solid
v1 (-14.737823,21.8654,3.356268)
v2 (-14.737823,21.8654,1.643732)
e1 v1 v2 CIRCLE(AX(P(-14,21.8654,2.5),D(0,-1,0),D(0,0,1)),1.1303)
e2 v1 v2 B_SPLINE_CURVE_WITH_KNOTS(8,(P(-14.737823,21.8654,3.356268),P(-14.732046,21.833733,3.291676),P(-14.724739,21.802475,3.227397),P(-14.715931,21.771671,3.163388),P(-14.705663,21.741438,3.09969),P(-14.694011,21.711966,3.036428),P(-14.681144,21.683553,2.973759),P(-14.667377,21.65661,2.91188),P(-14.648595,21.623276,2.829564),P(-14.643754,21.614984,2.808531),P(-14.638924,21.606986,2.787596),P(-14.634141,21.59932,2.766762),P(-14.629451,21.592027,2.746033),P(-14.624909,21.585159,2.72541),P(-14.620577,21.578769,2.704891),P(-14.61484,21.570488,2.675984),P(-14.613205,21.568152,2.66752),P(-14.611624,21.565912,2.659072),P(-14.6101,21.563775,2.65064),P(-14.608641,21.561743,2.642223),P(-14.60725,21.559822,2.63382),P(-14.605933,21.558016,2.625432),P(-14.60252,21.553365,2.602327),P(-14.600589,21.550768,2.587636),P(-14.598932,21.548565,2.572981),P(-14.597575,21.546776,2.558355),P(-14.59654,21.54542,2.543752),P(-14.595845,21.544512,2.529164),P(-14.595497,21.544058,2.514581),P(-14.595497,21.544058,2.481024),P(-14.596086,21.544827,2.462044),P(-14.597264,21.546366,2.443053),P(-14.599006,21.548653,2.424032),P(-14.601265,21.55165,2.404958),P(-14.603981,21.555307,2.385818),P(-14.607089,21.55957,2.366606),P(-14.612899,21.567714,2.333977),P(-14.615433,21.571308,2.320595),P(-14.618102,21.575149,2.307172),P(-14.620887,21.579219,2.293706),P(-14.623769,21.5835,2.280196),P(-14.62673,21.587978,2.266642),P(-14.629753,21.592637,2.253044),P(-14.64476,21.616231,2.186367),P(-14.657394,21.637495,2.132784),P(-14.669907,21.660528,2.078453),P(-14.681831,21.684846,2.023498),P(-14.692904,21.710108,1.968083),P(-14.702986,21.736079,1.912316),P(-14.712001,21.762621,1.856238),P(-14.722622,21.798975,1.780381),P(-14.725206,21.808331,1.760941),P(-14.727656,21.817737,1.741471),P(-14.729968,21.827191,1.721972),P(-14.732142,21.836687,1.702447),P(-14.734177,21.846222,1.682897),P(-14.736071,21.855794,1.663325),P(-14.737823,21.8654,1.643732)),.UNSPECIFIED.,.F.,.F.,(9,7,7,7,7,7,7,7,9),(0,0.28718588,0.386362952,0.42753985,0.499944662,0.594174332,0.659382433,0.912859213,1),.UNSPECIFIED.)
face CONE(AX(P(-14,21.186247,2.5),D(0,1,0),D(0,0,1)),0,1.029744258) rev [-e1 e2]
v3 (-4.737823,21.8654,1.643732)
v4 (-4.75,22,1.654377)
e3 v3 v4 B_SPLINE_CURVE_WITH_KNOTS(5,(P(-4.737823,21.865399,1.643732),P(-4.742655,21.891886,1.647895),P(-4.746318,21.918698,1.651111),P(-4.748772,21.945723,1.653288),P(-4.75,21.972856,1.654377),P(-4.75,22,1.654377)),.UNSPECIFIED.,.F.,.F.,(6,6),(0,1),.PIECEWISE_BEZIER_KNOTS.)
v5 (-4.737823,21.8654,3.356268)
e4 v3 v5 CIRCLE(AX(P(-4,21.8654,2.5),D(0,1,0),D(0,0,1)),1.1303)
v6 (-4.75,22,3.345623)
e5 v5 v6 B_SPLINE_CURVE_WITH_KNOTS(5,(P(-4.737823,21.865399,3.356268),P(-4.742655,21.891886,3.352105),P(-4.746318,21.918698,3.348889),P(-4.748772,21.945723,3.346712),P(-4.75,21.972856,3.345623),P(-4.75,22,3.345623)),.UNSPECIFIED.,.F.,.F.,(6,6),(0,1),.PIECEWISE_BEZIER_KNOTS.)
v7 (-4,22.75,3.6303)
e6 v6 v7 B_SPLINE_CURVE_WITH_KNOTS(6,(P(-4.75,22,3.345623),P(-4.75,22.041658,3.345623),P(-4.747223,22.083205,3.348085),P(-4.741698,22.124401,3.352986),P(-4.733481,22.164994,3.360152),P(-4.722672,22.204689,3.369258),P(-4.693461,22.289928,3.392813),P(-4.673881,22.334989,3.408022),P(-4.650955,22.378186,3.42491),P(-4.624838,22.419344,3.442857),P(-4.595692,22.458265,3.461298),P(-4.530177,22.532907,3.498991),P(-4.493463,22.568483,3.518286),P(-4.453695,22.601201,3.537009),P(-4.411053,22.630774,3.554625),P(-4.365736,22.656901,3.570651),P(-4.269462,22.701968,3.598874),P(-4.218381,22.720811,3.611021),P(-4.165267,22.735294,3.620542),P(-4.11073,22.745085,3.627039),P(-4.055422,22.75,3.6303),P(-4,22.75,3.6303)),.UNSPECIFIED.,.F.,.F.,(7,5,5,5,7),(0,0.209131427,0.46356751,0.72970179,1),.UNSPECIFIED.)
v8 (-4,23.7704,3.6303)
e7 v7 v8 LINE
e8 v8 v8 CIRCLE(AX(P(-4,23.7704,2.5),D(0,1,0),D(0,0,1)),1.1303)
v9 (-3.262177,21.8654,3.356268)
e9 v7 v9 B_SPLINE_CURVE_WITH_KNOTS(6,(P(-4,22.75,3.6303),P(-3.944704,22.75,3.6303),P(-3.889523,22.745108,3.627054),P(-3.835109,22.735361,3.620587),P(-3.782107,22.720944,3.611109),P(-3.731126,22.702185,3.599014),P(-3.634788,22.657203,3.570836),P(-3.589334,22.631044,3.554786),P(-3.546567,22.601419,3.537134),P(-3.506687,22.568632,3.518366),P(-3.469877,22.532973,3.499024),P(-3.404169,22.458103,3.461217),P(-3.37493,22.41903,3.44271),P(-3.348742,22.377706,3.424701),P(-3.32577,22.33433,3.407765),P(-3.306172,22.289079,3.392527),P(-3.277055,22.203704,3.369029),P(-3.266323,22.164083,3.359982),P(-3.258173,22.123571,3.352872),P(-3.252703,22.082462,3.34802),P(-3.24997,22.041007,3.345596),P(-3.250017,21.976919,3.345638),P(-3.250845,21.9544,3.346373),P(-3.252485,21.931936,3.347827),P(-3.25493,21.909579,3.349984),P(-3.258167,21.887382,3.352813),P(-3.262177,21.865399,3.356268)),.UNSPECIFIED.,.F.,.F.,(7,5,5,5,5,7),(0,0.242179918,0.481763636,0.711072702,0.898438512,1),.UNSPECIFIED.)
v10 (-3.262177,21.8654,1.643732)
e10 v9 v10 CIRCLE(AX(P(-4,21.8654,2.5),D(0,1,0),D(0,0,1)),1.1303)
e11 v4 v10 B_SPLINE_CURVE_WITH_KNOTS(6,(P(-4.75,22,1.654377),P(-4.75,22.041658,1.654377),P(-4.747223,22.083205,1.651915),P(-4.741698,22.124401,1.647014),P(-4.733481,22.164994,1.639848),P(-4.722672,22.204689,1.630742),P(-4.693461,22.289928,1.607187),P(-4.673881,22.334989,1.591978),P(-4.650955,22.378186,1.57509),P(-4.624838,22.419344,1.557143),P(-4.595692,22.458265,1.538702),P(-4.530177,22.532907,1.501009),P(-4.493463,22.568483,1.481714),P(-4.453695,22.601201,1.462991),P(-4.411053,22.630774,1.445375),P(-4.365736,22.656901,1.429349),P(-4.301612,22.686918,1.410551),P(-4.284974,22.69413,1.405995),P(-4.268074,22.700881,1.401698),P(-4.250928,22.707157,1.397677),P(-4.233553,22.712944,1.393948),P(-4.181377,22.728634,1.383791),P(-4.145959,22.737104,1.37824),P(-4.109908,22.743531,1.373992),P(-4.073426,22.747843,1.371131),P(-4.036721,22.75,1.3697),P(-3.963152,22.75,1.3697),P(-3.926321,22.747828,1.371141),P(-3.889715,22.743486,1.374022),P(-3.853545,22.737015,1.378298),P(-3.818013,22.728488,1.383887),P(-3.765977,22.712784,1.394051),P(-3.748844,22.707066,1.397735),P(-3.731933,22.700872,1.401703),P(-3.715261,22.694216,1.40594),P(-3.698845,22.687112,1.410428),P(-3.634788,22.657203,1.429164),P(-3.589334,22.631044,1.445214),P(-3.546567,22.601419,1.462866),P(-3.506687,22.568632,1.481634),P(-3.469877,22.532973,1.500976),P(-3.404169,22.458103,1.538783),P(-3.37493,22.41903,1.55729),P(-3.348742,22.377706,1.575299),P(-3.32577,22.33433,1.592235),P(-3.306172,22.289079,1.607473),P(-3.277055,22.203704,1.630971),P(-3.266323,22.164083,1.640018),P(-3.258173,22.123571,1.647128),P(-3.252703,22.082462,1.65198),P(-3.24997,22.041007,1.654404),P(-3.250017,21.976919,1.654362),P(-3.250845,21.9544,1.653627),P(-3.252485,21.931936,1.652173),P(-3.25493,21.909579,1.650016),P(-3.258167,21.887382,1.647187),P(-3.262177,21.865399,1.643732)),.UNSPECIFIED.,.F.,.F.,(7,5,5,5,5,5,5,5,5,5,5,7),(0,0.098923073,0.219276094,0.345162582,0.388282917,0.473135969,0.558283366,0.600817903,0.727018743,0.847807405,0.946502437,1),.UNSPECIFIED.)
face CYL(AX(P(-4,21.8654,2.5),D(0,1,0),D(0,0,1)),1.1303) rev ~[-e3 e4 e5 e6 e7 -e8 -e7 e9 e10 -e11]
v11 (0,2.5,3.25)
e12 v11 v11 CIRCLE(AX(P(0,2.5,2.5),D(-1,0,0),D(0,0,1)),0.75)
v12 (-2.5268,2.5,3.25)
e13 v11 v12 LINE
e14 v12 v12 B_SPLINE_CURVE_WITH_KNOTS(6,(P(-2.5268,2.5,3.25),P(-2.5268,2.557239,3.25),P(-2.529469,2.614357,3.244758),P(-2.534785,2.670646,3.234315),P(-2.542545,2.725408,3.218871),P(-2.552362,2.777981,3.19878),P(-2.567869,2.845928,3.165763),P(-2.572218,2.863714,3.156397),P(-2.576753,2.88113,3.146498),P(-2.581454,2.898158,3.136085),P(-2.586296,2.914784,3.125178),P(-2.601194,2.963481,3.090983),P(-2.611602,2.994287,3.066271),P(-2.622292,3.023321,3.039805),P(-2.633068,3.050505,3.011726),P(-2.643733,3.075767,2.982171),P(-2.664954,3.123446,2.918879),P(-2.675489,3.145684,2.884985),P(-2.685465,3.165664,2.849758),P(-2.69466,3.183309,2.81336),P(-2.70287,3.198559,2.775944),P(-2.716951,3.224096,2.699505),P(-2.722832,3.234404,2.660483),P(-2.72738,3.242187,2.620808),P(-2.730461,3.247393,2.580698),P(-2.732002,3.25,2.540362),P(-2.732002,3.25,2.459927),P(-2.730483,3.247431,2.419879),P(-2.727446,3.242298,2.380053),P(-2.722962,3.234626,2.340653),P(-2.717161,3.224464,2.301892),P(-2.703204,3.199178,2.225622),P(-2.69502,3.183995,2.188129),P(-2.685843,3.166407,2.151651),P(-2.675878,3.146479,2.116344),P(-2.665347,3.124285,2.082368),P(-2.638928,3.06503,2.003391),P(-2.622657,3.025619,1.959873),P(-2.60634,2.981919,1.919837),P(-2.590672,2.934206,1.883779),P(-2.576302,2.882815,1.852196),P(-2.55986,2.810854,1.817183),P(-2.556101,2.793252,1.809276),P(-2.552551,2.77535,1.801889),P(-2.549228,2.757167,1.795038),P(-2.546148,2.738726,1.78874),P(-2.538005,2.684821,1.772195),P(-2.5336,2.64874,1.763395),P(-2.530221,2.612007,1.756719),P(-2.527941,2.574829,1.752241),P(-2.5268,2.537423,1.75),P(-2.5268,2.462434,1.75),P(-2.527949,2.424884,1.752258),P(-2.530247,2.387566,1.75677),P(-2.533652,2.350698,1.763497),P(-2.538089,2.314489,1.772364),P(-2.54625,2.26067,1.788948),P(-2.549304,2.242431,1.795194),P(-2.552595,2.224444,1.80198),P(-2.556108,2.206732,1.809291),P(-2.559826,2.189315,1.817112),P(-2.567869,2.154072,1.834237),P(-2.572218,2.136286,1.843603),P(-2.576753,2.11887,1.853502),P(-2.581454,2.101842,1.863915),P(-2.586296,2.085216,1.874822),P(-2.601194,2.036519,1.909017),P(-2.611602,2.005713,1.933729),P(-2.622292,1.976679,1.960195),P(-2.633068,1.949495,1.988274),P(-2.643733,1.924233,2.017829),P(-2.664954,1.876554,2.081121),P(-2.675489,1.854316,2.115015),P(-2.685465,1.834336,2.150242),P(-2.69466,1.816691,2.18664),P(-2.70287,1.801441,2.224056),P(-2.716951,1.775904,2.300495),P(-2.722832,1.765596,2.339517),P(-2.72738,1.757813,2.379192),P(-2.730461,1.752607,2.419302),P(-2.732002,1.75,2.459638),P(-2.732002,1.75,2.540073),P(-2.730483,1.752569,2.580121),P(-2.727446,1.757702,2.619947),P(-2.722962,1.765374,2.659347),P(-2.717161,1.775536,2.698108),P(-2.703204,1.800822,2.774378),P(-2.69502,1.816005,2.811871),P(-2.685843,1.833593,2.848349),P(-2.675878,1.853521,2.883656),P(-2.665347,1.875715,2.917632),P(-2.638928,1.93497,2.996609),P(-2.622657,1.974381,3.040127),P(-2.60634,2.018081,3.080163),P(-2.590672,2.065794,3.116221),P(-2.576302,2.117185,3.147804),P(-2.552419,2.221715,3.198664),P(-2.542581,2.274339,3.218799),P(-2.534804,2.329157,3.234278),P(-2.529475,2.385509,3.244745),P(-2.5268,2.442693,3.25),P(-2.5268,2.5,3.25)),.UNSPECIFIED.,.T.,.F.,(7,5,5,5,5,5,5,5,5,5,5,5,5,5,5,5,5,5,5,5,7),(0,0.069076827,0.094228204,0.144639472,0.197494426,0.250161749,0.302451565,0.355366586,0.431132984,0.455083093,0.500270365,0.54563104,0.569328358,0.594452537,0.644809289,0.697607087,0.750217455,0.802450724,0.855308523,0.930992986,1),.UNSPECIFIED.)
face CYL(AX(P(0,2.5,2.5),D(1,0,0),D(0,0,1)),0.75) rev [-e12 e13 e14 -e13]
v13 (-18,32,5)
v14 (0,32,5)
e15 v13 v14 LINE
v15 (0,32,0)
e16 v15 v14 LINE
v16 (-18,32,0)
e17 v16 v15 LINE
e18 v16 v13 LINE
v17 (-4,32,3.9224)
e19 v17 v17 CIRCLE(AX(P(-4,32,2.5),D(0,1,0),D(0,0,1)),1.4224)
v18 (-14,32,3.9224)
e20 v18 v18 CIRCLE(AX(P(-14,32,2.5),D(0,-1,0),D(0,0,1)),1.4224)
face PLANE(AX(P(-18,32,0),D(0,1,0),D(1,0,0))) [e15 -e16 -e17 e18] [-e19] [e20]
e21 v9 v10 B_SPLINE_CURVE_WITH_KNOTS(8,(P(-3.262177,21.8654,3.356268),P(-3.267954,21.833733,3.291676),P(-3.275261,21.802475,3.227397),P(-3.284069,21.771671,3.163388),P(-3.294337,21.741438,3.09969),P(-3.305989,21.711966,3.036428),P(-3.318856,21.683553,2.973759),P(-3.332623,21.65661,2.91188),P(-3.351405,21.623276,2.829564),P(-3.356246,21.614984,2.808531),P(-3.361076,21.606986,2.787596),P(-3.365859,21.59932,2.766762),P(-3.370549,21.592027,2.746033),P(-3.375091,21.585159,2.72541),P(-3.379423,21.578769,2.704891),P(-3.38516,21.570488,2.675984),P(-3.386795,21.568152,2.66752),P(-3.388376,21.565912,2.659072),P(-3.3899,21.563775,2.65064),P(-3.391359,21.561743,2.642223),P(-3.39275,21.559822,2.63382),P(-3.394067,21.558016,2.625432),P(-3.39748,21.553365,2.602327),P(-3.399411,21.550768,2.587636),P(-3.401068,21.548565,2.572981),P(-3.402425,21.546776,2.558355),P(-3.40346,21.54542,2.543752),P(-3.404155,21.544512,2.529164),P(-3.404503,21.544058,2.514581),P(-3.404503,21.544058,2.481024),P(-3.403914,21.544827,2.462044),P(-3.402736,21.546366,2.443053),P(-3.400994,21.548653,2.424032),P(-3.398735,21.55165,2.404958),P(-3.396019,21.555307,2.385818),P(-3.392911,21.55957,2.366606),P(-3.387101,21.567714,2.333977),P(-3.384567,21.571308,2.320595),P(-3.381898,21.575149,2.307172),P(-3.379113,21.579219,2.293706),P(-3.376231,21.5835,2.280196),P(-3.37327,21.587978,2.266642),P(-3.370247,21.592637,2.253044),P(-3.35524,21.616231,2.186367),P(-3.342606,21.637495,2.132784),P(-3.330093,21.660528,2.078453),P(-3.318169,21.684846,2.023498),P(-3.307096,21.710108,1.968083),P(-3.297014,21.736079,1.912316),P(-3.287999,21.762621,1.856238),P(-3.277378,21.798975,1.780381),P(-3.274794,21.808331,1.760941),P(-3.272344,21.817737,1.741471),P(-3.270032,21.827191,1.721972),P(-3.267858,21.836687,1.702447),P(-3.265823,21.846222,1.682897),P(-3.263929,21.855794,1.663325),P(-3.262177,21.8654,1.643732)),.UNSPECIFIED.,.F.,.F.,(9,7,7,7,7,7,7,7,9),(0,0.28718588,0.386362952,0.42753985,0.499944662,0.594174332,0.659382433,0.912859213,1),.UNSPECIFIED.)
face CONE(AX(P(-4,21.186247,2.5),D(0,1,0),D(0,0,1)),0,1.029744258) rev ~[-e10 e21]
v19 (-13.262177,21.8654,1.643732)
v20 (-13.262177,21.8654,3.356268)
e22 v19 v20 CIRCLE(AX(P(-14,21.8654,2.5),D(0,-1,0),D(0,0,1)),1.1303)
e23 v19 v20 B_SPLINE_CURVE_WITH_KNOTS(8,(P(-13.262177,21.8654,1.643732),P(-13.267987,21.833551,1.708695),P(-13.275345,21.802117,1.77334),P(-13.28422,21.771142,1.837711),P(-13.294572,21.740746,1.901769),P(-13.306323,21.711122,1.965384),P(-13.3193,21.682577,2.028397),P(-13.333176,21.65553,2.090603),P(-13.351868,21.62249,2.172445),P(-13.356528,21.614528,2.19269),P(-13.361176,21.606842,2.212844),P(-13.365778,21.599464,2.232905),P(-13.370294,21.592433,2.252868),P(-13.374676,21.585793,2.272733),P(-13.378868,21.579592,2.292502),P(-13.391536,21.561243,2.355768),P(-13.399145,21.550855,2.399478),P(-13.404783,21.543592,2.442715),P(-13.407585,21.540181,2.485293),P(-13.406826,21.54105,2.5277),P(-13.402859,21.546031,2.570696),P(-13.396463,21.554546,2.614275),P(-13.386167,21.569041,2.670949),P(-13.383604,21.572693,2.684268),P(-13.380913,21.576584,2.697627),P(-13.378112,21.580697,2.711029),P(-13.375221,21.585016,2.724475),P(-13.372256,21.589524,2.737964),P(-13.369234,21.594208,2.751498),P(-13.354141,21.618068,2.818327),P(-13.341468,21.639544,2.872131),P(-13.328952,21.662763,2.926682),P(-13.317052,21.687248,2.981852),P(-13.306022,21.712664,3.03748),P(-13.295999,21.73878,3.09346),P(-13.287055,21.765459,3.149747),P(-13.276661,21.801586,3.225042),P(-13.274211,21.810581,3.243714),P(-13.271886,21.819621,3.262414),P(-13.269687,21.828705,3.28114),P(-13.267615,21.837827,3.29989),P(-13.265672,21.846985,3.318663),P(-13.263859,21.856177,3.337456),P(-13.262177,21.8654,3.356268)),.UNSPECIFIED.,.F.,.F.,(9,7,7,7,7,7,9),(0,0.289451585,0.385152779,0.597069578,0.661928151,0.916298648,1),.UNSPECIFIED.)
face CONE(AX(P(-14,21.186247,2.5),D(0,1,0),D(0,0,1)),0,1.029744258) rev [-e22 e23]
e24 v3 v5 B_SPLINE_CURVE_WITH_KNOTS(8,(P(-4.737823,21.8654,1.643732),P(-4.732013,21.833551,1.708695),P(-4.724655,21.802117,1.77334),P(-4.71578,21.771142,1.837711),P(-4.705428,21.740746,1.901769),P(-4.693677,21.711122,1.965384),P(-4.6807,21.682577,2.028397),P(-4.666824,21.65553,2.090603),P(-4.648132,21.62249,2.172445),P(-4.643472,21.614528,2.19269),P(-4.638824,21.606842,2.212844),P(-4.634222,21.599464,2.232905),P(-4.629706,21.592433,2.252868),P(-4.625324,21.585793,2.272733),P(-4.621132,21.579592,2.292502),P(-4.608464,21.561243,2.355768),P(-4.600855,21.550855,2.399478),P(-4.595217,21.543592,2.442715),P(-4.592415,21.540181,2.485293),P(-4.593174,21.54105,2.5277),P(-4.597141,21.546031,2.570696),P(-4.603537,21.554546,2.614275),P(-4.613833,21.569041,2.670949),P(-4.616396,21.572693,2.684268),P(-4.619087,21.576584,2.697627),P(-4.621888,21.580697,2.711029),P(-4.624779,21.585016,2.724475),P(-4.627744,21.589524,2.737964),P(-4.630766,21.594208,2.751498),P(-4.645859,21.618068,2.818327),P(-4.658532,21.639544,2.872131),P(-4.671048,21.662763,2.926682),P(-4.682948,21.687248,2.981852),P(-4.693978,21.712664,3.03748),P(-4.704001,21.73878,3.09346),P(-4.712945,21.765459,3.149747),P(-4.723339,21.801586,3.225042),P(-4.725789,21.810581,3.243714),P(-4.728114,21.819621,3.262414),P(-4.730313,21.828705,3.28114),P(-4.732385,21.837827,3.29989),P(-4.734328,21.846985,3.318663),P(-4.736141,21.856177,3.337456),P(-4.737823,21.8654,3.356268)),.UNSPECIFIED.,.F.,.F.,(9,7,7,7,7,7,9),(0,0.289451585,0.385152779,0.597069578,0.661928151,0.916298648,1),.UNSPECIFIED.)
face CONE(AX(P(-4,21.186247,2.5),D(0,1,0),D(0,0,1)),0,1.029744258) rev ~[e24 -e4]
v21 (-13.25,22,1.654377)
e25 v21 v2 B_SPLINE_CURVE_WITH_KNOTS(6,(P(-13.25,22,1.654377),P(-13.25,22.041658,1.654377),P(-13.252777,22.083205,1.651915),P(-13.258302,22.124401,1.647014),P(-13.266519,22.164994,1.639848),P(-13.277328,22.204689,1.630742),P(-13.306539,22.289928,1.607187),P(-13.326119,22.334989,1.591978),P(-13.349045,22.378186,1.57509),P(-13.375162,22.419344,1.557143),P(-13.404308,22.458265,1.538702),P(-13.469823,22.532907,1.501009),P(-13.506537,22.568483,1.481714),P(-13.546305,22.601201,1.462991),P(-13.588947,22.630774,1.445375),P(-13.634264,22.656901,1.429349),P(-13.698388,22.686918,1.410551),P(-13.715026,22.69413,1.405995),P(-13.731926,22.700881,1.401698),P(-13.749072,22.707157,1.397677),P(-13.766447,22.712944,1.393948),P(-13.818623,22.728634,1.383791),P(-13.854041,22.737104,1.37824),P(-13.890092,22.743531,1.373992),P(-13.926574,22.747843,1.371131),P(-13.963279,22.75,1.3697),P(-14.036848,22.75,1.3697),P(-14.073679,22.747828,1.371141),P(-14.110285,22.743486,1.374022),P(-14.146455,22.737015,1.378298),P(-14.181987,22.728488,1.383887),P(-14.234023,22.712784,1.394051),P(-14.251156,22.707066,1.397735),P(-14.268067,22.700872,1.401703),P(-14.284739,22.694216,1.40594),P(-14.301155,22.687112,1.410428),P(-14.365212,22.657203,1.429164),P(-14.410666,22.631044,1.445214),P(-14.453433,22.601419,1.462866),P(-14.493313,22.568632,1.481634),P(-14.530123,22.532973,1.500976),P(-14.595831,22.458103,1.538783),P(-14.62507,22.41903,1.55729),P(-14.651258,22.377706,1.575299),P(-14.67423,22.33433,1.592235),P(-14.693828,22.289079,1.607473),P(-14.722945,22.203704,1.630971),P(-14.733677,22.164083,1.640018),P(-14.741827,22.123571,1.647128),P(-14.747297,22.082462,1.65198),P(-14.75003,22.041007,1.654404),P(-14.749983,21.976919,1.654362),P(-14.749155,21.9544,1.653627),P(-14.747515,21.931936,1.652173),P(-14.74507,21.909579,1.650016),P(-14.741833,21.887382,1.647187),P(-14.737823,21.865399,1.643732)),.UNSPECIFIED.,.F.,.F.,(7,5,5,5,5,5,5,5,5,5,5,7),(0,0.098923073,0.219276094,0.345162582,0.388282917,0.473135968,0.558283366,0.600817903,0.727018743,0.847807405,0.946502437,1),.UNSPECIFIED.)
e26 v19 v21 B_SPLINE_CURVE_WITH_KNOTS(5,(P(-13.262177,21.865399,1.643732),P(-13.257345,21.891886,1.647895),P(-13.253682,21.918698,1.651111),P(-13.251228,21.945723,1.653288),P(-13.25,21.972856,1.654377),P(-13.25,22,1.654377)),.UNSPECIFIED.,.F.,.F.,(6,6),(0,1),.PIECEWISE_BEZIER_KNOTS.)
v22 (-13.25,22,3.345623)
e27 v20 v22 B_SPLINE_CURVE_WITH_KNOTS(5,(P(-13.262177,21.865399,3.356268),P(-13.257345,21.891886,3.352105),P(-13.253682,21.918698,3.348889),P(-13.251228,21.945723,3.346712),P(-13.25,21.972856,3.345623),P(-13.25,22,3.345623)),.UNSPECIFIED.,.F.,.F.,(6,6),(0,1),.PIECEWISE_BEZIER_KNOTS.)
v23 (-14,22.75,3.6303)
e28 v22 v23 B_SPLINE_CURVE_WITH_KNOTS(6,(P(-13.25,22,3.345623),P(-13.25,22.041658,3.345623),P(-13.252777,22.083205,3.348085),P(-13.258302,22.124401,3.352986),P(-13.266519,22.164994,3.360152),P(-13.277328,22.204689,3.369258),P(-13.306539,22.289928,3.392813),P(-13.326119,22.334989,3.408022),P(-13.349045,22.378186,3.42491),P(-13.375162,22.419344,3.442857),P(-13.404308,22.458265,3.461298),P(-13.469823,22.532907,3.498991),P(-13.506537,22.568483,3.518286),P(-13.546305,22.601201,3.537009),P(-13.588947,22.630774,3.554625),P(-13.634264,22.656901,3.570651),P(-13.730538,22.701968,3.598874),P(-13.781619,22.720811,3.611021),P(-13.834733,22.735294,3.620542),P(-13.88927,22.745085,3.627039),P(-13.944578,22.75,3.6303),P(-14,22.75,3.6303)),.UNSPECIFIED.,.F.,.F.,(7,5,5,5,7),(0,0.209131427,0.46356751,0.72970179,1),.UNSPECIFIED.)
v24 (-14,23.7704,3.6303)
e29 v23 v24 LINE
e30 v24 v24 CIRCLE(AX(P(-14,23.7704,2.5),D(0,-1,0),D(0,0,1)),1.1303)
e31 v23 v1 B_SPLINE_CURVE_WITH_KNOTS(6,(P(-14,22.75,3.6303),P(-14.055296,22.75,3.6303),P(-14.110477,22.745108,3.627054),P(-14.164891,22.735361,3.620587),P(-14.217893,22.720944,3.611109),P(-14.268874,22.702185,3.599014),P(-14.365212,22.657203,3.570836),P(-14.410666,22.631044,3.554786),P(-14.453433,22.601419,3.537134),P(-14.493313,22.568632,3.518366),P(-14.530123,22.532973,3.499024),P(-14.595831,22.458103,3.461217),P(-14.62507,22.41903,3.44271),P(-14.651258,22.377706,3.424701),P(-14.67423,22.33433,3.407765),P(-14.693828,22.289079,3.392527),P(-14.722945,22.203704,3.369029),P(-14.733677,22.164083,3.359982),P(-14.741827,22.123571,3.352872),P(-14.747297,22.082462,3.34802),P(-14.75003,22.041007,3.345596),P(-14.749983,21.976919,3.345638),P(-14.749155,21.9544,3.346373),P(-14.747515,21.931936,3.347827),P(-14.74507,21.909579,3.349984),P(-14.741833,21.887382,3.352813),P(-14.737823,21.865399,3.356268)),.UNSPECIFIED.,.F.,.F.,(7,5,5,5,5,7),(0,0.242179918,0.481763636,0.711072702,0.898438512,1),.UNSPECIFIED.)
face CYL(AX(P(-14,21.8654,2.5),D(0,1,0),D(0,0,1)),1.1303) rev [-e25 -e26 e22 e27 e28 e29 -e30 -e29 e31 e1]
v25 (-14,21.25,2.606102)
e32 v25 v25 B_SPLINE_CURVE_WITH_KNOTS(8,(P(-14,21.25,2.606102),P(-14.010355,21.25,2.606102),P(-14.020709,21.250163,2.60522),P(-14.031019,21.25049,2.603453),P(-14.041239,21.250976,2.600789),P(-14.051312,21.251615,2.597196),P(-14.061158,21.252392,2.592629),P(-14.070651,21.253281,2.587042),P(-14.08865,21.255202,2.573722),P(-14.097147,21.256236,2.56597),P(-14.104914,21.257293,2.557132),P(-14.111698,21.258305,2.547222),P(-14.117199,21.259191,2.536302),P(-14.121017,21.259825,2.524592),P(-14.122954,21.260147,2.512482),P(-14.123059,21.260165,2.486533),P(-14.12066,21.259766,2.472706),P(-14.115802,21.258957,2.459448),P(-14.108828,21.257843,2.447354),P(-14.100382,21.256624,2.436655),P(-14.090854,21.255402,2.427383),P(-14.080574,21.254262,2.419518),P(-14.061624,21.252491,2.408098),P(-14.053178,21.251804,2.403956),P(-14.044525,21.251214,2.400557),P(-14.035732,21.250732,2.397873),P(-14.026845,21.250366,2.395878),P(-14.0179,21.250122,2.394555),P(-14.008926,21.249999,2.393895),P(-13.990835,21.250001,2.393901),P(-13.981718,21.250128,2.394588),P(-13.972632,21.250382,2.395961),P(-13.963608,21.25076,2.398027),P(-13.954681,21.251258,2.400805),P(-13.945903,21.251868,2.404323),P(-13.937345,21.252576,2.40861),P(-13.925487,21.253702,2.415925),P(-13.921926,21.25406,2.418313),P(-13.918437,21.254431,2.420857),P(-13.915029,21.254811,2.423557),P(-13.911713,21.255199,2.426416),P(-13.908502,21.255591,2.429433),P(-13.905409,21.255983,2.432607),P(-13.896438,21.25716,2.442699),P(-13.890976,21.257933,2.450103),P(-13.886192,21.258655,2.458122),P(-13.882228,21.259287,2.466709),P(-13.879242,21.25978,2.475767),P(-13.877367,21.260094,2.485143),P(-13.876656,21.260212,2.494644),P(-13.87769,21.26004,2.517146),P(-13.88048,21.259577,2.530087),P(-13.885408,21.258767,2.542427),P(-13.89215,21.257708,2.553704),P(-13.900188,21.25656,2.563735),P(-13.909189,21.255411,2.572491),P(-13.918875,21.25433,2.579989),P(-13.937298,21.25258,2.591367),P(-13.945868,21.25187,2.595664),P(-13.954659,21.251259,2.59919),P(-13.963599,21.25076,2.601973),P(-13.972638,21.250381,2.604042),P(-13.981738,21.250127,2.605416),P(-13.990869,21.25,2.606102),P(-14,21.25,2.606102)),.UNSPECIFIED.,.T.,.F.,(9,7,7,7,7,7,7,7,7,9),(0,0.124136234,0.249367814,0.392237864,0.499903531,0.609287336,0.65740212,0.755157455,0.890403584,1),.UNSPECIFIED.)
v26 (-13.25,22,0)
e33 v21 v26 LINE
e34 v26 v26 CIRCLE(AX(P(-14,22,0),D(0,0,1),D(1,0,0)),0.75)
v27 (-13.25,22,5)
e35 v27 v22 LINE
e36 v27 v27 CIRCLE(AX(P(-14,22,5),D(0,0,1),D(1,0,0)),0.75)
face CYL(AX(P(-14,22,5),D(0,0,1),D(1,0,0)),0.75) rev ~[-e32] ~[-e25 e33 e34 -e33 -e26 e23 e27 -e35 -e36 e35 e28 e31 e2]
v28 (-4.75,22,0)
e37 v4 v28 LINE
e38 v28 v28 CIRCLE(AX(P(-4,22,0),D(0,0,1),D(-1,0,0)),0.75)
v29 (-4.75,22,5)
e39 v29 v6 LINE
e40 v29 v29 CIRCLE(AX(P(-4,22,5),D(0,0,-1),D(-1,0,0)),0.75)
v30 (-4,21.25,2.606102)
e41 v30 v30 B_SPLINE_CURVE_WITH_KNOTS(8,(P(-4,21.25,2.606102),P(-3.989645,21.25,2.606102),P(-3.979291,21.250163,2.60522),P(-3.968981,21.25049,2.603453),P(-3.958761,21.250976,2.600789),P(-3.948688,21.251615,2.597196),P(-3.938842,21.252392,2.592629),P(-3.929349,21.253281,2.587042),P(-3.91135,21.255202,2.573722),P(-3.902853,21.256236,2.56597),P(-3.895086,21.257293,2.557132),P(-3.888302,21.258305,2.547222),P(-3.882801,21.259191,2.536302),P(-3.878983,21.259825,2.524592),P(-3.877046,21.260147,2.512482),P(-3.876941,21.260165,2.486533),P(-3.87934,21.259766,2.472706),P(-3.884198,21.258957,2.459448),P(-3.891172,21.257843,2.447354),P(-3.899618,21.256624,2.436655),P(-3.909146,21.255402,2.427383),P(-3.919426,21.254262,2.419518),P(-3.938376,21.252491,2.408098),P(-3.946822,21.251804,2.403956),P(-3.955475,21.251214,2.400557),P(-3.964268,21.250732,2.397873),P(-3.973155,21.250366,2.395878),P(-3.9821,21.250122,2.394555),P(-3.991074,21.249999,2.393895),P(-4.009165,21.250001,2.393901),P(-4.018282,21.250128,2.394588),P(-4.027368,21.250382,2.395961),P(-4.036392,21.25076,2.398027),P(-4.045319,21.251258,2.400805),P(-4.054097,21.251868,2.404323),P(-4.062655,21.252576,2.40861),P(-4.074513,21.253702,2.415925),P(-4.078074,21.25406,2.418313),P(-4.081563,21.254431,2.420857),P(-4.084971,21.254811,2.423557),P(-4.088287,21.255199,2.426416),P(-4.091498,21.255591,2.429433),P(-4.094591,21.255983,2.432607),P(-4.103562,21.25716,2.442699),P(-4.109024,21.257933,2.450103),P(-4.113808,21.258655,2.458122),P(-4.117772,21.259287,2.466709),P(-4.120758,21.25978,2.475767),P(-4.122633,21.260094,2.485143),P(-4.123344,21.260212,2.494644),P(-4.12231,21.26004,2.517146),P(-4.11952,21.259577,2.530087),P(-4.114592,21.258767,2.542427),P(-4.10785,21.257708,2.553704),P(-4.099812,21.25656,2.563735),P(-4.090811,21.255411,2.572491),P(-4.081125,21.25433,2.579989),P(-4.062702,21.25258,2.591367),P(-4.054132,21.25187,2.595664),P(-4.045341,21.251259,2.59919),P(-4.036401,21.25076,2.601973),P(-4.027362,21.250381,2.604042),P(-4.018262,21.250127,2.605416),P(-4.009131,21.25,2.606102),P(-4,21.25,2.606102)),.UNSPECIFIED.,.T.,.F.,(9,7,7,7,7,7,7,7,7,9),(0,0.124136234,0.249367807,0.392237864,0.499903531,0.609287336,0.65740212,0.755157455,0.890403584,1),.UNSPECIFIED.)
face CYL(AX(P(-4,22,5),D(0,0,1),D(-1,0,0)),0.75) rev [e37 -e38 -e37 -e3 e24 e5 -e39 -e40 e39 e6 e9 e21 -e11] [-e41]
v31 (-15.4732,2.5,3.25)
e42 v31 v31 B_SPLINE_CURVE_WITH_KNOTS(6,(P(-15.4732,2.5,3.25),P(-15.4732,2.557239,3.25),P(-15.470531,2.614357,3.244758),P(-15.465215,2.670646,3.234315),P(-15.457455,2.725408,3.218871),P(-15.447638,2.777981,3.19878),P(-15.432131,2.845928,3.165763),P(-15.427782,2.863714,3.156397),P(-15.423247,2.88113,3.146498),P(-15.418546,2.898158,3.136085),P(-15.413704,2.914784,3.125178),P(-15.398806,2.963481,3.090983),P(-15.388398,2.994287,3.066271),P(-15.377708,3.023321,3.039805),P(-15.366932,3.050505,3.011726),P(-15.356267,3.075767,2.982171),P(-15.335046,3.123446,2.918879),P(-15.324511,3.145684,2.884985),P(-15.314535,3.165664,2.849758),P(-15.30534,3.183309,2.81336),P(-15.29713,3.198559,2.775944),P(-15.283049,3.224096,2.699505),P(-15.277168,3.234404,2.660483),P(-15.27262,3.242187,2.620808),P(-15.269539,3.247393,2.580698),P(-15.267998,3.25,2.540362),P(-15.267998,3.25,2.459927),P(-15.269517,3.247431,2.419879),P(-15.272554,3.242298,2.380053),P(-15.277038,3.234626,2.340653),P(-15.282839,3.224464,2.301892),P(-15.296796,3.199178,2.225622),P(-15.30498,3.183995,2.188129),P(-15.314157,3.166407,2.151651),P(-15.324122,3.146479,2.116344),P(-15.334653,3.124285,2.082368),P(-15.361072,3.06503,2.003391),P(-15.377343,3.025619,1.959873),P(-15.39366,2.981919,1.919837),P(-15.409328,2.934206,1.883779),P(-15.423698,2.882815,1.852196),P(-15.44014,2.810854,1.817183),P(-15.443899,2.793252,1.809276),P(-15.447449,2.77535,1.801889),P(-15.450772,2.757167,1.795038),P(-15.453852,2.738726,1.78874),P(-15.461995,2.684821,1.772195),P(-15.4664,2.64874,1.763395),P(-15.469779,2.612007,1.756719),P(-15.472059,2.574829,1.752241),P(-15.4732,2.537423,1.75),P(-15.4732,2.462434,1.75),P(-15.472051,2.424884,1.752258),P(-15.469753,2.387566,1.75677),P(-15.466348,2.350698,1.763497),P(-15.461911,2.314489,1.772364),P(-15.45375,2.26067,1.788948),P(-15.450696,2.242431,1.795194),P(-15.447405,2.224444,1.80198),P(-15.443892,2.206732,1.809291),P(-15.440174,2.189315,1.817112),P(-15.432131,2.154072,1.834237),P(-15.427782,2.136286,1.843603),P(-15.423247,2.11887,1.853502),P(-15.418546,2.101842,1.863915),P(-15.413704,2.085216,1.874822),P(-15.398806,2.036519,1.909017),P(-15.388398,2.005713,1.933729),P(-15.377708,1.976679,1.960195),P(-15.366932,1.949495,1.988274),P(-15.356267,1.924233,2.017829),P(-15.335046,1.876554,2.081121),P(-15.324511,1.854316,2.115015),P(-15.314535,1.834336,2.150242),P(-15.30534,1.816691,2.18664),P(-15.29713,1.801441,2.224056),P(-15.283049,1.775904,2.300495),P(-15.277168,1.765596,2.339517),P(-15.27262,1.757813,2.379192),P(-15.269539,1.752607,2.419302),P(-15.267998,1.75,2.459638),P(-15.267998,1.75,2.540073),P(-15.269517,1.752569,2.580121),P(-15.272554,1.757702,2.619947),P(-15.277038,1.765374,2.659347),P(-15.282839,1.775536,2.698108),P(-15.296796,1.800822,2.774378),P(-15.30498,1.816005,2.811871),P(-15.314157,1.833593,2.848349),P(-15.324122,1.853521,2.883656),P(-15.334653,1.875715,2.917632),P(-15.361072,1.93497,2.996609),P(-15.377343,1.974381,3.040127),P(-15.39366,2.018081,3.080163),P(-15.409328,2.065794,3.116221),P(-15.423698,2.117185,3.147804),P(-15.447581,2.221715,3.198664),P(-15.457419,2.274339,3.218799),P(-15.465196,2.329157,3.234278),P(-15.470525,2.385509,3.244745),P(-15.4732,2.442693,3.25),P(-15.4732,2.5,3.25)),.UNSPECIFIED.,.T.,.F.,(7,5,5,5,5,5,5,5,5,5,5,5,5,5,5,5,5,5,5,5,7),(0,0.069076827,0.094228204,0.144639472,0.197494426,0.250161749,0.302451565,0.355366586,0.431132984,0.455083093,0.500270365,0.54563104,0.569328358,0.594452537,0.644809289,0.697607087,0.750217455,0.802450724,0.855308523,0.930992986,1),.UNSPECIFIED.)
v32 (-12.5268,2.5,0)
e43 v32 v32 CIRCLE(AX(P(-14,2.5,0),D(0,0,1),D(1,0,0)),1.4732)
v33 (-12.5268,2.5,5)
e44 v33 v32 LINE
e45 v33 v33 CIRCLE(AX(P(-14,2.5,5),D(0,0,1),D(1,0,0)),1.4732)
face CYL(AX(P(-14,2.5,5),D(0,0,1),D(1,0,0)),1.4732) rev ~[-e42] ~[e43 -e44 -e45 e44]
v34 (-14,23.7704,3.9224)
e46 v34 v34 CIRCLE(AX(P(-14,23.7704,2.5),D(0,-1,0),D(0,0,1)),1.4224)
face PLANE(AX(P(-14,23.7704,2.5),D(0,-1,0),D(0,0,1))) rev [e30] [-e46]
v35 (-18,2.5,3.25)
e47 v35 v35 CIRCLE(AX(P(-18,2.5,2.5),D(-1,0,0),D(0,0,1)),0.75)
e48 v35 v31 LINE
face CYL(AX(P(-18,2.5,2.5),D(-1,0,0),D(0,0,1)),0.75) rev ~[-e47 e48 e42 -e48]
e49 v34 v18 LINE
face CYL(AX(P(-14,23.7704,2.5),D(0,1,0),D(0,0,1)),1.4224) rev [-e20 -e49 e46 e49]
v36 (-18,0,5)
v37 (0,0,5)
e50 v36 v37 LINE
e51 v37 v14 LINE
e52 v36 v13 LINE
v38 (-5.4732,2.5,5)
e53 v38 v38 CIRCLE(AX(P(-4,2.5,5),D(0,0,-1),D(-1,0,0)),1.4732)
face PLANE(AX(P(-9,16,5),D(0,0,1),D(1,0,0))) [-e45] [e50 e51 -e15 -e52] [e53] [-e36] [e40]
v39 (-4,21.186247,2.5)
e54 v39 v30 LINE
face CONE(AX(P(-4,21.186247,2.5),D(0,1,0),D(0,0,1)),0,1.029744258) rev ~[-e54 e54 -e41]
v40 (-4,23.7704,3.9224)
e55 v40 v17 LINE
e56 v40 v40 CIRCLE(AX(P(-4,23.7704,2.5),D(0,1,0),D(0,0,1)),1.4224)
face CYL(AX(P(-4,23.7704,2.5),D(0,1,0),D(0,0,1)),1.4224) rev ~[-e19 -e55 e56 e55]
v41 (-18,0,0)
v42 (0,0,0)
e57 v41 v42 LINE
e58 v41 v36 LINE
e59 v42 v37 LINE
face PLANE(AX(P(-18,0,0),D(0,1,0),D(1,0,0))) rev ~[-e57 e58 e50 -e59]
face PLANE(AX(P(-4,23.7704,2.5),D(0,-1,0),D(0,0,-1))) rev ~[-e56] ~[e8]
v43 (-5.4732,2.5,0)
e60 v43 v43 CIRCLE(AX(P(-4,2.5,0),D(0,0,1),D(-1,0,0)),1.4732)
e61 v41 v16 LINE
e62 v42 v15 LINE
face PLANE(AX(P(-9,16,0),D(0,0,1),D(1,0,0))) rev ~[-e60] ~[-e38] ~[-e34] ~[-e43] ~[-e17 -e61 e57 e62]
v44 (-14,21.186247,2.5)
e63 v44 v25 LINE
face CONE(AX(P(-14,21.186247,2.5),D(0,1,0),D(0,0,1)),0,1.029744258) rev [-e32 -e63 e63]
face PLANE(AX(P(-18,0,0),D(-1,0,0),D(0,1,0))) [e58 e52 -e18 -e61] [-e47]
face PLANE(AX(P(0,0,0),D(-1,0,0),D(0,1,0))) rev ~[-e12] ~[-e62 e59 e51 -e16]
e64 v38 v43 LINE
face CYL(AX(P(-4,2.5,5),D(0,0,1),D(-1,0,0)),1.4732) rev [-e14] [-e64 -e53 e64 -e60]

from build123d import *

# Parameters (mm, degrees)
SKETCH1_W      = 18
SKETCH1_H      = 32
EXTRUDE1_DEPTH = 5
SKETCH3_R      = 0.75
SKETCH3_R_2    = 1.4732
EXTRUDE2_DEPTH = 6
SKETCH4_R      = 0.75
EXTRUDE3_DEPTH = 2.794


with BuildPart() as part:
    # Sketch1 → Extrude1 (new body)
    with BuildSketch(Plane.XY):
        with Locations((-9, 16)):
            Rectangle(SKETCH1_W, SKETCH1_H)
    extrude(amount=EXTRUDE1_DEPTH)

    # Sketch2 → #4-40 Tapped Hole1 (revolve, cut)
    with BuildSketch(Plane(origin=(-14, 32, 2.5), x_dir=(0, 0, 1), z_dir=(1, 0, 0))):
        Polygon((0, 0), (0, 10.813752758), (1.1303, 10.1346), (1.1303, 8.2296), (1.4224, 8.2296), (1.4224, 0), align=None)
    f_4_40_tapped_hole1 = revolve(axis=Axis((-14, 38.35, 2.5), (0, -1, 0)), mode=Mode.SUBTRACT)

    # Sketch3 → Extrude2 (cut, through all)
    with BuildSketch(Plane.XY.offset(5)):
        with Locations((-14, 22)):
            Circle(SKETCH3_R)
        with Locations((-14, 2.5)):
            Circle(SKETCH3_R_2)
    extrude2 = extrude(amount=-EXTRUDE2_DEPTH, mode=Mode.SUBTRACT)

    # Sketch4 → Extrude3 (cut)
    with BuildSketch(Plane.ZY.offset(18)):
        with Locations((2.5, 2.5)):
            Circle(SKETCH4_R)
    extrude3 = extrude(amount=-EXTRUDE3_DEPTH, mode=Mode.SUBTRACT)

    # Mirror2: #4-40 Tapped Hole1, Extrude2, Extrude3 across plane
    add(f_4_40_tapped_hole1.mirror(Plane(origin=(-9, 0, 0), x_dir=(0, 0, 1), z_dir=(1, 0, 0))), mode=Mode.SUBTRACT)
    add(extrude2.mirror(Plane(origin=(-9, 0, 0), x_dir=(0, 0, 1), z_dir=(1, 0, 0))), mode=Mode.SUBTRACT)
    add(extrude3.mirror(Plane(origin=(-9, 0, 0), x_dir=(0, 0, 1), z_dir=(1, 0, 0))), mode=Mode.SUBTRACT)


solid = part.part
